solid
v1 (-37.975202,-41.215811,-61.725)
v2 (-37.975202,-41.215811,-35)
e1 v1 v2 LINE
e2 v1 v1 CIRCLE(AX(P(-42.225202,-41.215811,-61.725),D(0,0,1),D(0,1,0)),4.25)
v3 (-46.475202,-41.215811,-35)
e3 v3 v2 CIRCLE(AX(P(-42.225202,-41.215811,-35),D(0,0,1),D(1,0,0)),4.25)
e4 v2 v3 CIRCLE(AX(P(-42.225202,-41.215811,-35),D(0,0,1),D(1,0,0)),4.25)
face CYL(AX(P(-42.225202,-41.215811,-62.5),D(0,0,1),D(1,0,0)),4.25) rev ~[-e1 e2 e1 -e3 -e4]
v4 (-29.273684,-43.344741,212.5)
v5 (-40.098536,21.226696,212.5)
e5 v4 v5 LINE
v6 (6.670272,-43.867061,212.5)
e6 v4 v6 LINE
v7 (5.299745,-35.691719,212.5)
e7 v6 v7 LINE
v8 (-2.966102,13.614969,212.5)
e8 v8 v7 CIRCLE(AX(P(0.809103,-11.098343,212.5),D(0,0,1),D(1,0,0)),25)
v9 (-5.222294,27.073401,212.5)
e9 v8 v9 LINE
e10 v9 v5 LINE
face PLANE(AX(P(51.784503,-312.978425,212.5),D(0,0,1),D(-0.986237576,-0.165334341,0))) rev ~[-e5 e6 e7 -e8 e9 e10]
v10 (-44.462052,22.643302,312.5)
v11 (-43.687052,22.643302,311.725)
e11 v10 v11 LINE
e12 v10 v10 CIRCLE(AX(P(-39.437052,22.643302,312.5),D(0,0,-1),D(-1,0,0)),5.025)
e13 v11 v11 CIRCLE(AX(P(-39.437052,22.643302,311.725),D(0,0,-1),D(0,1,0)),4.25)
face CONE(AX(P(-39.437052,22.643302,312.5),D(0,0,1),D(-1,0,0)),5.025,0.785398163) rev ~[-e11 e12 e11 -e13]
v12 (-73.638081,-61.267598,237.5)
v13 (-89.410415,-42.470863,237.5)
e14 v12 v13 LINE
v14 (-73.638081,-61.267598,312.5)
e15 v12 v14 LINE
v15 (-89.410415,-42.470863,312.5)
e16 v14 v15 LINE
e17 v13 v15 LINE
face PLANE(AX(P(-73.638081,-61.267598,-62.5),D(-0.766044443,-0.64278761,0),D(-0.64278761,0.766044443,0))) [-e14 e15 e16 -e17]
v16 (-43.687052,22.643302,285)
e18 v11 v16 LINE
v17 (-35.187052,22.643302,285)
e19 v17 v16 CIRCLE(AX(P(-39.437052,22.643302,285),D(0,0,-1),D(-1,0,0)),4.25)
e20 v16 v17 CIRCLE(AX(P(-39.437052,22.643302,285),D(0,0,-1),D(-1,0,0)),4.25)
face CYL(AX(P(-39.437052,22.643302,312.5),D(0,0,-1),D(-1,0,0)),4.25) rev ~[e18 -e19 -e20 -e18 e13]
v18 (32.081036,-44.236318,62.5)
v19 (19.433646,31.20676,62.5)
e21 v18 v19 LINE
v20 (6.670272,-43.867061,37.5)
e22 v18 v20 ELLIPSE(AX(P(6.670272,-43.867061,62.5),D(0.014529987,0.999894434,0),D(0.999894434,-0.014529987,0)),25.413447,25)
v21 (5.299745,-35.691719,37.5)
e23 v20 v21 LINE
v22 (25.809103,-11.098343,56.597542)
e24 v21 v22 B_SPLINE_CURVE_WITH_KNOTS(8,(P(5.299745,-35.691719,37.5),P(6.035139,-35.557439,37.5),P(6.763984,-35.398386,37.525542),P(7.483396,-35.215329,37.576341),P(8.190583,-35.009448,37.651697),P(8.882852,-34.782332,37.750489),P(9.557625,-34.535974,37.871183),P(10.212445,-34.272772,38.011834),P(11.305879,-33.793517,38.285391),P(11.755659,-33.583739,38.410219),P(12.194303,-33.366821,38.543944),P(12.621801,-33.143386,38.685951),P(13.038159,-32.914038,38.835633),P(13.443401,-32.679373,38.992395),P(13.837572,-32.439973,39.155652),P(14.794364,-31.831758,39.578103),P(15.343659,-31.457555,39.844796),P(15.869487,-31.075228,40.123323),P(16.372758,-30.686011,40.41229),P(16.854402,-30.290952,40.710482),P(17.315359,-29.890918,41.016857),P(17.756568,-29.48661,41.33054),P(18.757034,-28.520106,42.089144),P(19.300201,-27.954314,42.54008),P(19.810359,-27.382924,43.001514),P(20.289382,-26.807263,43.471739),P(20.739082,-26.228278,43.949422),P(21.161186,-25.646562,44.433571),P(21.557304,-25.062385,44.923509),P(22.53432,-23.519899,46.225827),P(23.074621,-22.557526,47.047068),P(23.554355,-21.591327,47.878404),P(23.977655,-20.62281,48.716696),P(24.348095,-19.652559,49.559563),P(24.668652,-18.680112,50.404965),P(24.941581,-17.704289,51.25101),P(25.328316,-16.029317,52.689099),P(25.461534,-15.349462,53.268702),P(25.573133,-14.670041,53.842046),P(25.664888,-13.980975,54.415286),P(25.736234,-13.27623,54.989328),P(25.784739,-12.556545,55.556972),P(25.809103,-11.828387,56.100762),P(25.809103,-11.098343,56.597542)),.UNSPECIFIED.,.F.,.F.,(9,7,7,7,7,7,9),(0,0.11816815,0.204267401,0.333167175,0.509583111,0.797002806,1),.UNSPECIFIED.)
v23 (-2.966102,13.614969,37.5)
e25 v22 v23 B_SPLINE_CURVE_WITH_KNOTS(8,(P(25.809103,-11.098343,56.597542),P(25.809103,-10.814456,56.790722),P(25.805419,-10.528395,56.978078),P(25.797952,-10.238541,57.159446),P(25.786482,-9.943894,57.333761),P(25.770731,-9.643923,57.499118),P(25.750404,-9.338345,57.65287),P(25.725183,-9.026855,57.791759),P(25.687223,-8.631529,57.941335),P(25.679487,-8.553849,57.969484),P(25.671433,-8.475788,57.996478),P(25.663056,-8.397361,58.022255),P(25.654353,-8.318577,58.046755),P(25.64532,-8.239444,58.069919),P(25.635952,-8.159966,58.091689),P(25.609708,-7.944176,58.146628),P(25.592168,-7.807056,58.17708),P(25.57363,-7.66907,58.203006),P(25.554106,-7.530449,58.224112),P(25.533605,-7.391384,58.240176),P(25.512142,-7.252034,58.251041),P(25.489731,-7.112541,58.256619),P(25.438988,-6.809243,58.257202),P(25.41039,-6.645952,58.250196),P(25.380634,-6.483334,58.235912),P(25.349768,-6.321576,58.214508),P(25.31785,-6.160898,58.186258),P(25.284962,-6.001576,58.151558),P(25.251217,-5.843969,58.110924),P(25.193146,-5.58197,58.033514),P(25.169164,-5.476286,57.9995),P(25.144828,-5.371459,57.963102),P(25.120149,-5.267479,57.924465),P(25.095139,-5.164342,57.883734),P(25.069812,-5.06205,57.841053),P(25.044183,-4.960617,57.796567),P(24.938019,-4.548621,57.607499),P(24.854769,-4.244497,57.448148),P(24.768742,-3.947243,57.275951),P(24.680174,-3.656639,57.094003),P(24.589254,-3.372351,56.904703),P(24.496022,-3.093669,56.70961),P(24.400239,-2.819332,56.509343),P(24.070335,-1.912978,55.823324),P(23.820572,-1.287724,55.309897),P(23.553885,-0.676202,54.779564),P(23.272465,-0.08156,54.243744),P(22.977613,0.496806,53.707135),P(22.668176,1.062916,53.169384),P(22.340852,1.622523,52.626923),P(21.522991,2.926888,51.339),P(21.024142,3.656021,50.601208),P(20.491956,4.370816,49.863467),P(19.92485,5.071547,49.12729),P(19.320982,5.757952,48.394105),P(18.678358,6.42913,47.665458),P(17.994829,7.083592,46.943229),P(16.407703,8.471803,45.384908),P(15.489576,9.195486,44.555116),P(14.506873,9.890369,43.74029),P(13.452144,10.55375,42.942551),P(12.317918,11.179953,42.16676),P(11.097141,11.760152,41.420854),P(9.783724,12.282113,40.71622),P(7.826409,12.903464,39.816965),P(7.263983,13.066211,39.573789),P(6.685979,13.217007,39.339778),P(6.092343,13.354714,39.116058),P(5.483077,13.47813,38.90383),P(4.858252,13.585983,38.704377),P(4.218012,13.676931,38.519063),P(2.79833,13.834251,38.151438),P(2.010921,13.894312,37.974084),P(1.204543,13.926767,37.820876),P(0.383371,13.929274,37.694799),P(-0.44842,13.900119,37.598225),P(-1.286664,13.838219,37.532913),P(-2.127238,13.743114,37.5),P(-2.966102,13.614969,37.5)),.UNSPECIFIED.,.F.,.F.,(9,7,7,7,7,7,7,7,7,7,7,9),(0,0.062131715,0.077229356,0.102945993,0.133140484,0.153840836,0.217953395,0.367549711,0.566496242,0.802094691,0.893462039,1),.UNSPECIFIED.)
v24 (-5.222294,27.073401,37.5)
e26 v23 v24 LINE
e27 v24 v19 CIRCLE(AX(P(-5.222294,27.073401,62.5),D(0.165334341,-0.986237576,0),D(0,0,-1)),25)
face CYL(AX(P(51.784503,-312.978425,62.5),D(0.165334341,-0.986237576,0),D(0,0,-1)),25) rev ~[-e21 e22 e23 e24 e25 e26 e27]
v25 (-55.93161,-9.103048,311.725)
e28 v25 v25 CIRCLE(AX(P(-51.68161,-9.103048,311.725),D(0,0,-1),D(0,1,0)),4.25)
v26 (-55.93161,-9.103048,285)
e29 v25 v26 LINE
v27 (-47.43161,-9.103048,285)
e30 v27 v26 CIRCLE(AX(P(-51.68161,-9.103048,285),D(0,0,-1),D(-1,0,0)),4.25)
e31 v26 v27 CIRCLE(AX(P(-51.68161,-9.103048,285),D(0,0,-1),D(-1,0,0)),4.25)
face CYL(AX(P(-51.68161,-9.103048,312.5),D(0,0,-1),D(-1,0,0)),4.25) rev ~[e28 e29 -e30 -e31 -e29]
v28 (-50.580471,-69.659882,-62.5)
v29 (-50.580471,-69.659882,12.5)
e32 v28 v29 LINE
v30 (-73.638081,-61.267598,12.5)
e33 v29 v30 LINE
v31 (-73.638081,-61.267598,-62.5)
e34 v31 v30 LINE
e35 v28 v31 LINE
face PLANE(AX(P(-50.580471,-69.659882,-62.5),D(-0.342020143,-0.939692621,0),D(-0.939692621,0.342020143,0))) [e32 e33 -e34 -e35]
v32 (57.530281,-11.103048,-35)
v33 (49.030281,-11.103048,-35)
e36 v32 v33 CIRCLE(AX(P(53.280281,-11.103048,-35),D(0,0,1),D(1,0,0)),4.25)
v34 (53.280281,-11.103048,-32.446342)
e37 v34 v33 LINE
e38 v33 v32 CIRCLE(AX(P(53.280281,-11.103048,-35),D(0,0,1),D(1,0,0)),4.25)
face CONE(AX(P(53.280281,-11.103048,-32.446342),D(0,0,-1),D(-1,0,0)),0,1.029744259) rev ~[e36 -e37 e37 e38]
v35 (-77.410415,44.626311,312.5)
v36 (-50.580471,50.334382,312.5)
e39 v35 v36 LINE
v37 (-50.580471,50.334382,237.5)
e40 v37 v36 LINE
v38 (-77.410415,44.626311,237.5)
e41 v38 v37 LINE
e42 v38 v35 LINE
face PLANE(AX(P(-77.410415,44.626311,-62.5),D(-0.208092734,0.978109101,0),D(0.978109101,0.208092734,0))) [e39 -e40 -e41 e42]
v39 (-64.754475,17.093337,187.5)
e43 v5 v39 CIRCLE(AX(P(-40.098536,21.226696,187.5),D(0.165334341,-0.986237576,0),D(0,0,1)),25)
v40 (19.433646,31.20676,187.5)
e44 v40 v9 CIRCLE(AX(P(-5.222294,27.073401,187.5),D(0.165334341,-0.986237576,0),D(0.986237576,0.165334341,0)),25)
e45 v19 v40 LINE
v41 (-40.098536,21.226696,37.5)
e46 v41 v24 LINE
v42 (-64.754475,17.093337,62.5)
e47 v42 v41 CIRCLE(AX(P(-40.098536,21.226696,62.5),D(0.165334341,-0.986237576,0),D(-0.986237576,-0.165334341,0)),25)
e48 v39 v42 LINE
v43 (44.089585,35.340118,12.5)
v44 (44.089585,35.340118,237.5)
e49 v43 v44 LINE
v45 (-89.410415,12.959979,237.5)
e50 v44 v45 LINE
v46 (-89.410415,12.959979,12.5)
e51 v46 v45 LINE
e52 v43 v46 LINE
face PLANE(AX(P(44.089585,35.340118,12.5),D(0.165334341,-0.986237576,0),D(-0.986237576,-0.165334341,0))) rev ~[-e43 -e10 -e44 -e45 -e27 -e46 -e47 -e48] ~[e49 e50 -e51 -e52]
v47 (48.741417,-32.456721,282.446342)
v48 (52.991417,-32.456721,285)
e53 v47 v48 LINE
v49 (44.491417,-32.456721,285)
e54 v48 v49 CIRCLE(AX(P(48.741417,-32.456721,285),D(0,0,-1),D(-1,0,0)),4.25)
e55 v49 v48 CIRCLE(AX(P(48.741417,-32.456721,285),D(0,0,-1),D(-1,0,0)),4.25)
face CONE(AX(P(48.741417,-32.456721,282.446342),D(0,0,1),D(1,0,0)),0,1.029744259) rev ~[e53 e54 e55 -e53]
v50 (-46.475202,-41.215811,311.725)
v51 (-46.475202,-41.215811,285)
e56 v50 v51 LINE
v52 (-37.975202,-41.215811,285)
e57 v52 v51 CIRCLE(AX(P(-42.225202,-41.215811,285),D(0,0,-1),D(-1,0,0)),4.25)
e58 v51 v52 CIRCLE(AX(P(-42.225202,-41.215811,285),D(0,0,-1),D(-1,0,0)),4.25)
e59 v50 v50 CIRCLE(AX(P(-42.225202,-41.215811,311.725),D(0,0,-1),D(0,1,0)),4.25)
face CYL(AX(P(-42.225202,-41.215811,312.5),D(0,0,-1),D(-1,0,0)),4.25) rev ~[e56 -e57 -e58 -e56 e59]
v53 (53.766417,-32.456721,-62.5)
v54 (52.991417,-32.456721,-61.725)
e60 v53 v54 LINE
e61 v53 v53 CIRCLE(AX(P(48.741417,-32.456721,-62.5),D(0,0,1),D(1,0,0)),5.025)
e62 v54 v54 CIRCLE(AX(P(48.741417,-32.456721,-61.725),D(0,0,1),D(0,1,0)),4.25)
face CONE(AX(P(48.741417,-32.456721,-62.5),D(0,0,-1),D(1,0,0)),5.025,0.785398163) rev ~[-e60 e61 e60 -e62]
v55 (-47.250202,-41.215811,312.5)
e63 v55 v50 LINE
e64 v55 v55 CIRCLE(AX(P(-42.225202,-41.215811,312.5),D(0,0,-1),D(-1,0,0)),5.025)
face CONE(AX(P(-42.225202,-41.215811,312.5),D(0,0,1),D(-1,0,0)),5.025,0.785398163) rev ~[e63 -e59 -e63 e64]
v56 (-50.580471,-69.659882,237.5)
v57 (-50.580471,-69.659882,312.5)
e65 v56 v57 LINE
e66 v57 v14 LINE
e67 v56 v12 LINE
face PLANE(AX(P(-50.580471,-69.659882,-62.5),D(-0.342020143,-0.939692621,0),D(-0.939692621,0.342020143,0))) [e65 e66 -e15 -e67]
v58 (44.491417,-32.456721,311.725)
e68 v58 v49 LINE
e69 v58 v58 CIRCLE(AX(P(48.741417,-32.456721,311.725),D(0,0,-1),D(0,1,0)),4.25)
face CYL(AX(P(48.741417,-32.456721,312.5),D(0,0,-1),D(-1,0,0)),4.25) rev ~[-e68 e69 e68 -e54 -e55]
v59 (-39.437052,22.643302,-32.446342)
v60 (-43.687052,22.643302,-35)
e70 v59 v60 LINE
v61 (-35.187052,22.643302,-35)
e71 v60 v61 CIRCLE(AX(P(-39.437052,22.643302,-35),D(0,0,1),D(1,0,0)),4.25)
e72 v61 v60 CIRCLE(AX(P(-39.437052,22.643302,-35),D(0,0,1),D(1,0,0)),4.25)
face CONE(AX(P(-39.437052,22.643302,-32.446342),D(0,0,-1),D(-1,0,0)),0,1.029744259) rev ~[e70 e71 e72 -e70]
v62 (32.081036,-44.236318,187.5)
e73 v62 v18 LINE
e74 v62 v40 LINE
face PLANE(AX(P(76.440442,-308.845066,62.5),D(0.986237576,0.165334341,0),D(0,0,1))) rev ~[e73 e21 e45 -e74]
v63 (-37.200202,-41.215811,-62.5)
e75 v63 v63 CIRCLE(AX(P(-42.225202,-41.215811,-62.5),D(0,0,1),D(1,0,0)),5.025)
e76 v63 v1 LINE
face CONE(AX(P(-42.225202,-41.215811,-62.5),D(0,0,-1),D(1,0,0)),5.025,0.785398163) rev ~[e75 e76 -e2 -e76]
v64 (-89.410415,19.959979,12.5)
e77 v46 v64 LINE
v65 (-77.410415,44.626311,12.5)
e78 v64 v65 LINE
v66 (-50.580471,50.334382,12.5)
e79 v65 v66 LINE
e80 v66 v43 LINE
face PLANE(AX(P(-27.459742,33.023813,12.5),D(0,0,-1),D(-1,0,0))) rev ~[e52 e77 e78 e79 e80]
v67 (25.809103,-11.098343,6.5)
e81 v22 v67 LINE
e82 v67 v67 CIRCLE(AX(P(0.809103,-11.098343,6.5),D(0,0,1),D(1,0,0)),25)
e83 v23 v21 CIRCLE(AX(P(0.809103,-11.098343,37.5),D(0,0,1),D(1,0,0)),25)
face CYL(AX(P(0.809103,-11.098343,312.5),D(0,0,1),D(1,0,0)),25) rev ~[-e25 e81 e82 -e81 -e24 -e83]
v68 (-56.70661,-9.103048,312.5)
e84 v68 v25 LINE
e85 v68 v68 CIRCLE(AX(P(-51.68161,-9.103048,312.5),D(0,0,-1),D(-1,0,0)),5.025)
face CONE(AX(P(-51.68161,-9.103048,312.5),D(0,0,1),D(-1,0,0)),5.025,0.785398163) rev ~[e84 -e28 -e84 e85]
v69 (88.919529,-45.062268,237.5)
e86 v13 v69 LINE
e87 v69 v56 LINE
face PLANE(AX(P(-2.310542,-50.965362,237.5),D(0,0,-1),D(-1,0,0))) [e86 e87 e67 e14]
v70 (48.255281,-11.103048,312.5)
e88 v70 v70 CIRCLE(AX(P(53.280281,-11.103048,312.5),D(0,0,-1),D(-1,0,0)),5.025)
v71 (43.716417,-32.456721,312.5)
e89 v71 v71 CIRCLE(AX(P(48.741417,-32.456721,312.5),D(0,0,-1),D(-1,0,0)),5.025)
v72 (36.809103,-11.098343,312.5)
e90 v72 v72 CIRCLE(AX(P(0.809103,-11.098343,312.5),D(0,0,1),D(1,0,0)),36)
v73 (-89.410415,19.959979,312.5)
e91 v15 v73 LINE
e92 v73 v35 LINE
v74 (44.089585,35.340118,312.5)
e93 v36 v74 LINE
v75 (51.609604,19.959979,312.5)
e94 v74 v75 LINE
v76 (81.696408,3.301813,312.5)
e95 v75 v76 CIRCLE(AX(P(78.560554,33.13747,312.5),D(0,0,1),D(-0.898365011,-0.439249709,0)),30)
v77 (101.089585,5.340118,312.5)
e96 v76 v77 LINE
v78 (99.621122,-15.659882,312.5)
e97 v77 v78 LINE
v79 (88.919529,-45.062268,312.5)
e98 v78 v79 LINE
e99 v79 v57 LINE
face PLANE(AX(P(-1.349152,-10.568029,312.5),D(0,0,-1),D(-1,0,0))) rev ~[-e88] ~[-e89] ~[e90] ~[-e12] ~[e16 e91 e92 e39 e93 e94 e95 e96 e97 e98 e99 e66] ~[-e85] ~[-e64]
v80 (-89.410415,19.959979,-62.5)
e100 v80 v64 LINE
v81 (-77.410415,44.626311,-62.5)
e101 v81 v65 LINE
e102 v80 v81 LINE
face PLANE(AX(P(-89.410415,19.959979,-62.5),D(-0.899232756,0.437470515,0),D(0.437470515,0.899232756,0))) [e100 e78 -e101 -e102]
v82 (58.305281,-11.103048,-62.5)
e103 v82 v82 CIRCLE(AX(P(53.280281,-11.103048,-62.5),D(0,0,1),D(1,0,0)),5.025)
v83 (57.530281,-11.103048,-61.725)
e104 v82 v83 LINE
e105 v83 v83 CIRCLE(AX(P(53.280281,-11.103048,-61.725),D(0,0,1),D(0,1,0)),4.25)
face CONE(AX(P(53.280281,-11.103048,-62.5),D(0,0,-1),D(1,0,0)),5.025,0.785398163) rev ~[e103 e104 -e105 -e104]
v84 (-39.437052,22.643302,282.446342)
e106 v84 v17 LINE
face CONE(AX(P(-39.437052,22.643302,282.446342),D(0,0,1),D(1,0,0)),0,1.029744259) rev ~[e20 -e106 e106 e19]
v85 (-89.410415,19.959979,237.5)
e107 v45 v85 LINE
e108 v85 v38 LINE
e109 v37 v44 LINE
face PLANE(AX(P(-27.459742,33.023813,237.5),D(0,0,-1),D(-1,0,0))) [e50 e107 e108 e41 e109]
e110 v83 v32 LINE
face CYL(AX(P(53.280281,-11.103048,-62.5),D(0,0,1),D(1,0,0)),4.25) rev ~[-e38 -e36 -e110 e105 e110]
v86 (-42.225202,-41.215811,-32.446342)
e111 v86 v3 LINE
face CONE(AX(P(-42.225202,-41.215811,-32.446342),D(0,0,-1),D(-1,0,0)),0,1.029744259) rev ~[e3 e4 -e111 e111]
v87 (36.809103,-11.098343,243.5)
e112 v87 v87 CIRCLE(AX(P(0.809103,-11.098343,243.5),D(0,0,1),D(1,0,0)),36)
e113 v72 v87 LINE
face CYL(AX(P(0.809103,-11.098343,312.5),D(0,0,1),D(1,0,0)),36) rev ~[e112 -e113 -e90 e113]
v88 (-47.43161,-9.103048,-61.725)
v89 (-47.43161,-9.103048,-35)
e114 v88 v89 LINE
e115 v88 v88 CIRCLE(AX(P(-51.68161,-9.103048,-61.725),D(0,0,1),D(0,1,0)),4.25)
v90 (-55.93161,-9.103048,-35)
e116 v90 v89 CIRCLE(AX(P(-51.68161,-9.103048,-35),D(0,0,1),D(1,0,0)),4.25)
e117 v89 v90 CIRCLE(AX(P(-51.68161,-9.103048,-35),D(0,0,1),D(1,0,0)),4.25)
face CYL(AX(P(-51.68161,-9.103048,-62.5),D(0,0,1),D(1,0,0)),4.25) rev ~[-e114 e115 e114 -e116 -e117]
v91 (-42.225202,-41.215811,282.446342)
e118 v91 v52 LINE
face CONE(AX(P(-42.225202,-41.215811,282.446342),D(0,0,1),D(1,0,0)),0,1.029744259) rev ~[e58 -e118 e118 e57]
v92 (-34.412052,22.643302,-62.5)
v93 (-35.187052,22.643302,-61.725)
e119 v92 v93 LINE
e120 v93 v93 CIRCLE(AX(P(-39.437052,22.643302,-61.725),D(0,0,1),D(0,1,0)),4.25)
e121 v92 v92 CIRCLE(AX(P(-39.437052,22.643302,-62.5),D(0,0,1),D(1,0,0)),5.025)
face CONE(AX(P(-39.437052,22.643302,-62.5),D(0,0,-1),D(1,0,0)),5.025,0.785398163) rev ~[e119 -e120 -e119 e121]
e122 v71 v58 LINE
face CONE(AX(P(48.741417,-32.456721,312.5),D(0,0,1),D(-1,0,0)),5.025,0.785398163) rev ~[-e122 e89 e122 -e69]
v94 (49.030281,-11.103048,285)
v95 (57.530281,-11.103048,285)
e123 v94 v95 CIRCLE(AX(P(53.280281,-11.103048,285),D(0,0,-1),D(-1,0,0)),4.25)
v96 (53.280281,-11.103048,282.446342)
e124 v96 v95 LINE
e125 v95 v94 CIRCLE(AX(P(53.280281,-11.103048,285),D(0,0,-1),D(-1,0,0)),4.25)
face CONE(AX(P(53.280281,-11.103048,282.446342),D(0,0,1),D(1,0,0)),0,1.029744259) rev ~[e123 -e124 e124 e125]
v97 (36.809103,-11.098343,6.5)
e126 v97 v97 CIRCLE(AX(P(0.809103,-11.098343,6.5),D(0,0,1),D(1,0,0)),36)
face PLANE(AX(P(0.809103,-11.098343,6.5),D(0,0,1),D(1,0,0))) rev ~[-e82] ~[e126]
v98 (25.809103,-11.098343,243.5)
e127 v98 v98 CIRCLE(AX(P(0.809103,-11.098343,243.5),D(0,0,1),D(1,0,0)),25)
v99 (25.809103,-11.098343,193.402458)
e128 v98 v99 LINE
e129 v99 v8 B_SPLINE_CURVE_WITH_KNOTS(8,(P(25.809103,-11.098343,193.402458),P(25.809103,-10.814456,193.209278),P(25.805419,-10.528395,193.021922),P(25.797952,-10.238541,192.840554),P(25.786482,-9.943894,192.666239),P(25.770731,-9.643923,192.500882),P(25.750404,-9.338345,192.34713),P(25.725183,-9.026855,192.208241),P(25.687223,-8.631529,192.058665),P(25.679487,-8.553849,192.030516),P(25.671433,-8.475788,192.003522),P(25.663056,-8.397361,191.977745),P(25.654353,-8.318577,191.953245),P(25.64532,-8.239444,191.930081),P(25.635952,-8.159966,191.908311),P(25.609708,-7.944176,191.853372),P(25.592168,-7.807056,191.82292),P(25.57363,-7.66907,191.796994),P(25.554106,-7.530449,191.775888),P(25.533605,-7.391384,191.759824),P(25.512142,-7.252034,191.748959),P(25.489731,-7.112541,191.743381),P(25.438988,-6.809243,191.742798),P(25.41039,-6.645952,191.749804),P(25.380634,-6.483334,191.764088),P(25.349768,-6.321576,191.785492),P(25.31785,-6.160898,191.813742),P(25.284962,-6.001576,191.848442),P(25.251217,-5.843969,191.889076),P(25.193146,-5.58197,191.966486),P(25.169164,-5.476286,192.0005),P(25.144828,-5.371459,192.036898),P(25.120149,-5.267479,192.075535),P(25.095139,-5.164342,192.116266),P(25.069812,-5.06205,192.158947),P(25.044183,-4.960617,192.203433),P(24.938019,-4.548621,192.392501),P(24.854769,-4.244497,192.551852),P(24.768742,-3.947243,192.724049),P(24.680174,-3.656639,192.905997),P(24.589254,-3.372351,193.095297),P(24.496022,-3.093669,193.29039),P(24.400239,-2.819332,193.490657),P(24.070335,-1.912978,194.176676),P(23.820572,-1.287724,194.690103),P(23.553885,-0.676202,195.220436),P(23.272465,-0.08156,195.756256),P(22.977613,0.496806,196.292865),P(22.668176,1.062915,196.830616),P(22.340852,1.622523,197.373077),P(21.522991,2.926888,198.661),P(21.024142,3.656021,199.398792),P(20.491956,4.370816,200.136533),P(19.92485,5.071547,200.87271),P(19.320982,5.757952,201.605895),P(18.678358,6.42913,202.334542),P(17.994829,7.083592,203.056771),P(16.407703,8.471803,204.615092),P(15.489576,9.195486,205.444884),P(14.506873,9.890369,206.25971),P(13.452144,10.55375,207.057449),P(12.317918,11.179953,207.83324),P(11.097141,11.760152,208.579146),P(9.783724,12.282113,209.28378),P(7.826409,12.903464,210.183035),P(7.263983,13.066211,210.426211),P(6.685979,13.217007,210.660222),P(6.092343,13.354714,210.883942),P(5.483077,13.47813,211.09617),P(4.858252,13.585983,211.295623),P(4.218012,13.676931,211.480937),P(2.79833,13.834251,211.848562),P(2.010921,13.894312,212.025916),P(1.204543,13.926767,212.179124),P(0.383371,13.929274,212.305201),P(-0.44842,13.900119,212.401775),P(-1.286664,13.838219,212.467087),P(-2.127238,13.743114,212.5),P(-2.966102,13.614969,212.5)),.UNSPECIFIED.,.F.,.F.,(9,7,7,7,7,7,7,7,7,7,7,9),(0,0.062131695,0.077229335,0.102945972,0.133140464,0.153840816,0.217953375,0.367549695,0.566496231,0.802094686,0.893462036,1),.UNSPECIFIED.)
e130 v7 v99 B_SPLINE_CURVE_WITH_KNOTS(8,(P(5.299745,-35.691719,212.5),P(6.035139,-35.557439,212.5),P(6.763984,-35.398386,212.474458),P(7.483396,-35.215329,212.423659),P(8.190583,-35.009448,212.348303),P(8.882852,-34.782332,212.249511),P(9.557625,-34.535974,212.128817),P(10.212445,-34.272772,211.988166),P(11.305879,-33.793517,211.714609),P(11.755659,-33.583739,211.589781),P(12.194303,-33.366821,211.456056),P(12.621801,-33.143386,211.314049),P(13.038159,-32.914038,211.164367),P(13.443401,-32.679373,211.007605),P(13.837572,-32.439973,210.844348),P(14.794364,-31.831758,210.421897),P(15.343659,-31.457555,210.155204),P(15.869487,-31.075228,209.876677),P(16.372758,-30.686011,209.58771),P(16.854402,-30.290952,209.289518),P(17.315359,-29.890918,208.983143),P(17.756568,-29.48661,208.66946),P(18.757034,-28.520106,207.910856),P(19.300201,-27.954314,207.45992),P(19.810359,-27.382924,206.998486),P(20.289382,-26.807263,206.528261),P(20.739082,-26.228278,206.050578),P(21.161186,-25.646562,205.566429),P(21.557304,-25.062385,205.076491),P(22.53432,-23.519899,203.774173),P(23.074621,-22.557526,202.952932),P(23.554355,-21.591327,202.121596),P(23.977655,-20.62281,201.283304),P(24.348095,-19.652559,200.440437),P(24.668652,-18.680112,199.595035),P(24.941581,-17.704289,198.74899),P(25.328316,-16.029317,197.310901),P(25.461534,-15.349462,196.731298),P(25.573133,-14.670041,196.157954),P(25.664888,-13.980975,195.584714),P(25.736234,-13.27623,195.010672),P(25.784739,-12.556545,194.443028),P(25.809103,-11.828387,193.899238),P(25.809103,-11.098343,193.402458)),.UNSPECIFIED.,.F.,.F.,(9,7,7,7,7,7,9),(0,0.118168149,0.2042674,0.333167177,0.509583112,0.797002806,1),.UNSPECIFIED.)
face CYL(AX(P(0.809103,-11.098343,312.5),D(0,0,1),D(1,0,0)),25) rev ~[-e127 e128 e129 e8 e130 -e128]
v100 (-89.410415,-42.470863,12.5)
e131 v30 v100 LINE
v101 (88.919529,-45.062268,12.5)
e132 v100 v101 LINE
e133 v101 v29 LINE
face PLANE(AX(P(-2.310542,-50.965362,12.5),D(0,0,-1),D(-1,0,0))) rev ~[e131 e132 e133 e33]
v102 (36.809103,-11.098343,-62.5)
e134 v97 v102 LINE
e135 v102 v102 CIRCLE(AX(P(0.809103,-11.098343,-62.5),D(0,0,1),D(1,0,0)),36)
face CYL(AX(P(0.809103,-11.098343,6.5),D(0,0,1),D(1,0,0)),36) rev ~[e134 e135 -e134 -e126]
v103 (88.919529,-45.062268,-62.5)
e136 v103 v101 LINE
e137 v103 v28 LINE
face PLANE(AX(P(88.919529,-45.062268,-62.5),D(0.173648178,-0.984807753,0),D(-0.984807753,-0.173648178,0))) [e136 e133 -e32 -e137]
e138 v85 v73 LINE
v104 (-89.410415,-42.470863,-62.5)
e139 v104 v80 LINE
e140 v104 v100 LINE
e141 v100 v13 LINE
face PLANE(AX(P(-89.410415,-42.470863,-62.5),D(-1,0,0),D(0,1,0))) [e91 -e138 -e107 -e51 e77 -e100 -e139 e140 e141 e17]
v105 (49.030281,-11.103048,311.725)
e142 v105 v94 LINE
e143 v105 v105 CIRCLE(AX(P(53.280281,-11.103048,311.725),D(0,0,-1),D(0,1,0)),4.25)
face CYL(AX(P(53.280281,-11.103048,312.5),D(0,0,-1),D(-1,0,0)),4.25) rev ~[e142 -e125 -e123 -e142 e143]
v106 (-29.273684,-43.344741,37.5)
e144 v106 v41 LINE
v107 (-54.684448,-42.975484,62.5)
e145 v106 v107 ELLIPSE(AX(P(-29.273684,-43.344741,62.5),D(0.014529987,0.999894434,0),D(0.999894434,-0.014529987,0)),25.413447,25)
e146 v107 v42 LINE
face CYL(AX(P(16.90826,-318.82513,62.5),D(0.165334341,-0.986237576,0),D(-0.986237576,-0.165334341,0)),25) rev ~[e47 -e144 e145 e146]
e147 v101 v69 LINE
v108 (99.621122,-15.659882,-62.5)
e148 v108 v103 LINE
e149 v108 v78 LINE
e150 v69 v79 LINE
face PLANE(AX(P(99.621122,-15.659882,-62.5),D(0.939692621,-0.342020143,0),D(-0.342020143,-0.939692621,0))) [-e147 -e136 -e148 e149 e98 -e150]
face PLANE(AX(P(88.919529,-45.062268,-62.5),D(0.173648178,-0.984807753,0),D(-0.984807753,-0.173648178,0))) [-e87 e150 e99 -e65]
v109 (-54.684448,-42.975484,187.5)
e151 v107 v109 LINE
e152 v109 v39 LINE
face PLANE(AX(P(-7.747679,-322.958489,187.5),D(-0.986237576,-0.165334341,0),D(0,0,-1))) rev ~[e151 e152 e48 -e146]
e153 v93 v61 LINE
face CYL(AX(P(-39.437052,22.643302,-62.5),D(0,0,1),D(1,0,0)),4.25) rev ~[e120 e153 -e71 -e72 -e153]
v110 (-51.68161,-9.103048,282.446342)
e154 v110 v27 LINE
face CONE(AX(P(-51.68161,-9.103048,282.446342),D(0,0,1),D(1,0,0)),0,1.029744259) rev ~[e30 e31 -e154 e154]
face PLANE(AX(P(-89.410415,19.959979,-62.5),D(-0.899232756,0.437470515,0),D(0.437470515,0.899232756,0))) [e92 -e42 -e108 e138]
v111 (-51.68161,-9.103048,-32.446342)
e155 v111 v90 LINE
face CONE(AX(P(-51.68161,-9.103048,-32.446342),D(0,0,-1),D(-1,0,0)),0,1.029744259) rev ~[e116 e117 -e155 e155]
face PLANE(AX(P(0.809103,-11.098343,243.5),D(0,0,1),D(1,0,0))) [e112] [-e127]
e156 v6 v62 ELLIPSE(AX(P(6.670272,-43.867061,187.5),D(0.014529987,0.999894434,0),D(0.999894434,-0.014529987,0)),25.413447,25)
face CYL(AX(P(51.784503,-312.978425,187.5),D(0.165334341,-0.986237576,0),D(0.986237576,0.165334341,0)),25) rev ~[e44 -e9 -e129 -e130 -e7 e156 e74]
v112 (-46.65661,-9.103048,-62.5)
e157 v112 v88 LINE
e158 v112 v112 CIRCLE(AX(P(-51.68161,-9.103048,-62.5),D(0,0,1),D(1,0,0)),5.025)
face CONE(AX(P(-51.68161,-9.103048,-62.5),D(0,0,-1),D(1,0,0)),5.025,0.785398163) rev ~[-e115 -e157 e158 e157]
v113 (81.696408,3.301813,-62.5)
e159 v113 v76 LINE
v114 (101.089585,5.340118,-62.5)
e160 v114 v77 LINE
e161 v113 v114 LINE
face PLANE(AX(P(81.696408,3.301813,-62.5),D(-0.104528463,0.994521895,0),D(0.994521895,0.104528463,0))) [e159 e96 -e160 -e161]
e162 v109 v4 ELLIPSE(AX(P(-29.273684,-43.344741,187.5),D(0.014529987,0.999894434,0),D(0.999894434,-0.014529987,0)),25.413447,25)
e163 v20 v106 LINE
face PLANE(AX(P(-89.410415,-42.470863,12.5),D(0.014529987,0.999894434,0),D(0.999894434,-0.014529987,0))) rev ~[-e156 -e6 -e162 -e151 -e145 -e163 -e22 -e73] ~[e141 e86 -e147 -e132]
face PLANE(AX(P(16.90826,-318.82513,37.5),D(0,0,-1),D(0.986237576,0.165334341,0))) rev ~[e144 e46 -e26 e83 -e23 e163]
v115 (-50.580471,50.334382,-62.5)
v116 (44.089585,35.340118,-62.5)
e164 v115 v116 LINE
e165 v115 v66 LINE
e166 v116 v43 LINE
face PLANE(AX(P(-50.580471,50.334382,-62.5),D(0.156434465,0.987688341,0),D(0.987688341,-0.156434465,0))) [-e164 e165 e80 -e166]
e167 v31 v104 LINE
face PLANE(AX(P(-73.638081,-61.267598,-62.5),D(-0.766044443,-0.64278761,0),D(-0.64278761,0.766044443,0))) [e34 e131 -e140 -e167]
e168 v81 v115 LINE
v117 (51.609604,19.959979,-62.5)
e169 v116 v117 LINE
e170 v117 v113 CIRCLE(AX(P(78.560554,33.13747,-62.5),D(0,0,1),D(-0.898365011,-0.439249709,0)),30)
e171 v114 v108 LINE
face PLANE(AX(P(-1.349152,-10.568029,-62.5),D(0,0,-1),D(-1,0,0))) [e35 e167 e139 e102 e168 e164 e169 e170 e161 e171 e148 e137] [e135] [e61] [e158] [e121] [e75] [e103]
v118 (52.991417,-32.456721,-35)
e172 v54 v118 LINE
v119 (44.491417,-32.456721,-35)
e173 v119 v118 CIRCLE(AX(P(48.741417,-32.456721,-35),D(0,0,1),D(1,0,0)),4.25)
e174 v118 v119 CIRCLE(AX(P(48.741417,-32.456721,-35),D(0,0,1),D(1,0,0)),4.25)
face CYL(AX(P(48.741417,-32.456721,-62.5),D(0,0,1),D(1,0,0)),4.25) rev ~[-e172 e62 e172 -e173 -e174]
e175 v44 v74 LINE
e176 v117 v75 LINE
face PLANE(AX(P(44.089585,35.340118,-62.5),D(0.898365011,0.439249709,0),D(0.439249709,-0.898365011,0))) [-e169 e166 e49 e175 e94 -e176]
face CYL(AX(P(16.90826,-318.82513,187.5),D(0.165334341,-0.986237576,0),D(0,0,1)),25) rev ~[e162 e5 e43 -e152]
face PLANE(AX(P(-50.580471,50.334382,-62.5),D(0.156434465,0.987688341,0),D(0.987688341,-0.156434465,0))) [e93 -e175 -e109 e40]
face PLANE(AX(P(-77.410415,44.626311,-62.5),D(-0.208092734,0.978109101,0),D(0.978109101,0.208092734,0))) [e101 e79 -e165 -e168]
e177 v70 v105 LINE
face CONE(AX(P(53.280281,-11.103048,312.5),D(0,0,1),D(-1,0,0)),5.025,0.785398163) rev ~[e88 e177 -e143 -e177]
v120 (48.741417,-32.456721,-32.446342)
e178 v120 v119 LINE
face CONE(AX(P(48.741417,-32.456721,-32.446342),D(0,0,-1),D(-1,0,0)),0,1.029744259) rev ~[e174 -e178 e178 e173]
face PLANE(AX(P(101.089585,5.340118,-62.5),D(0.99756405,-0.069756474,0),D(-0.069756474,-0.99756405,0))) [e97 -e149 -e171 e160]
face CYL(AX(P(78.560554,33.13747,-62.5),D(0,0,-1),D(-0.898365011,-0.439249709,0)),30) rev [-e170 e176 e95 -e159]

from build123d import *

# Parameters (mm, degrees)
EXTRUS_O_PRINCIPAL_DEPTH    = 250
ESCALA_SCALE                = 1.5
ALIVIO_START                = -75
ALIVIO_SUP_INF_DEPTH        = 225
AL_VIO_CENTRAL_DEPTH        = 344.797069556
AL_VIO_CENTRAL_DEPTH_BACK   = 344.797069556
FUROS_DIR_D                 = 8.5
FUROS_DIR_DEPTH             = 27.5
FUROS_DIR_CSINK_D           = 10.05
FUROS_DIR_CSINK_ANGLE       = 90
FUROS_DIR_TIP               = 2.553657631
FUROS_ESQ_D                 = 8.5
FUROS_ESQ_DEPTH             = 27.5
FUROS_ESQ_CSINK_D           = 10.05
FUROS_ESQ_CSINK_ANGLE       = 90
FUROS_ESQ_TIP               = 2.553657631
ESBO_O7_3_R                 = 25
FURO_EIXO_DEPTH             = 395.584089109
ESBO_O7_R                   = 36
REBAIXO_ROLAMENTO_ESQ_DEPTH = 69
REBAIXO_START               = -306
ESBO_O7_4_R                 = 36
ESBO_O7_4_R_2               = 25
REBAIXO_ROLAMENTO_DIR_DEPTH = 69


with BuildPart() as part:
    # Esboço1 → EXTRUSÃO PRINCIPAL (new body)
    with BuildSketch(Plane.XY):
        with BuildLine():
            Line((65, 0), (64.021024633, -14))
            Line((64.021024633, -14), (56.886629039, -33.601590794))
            Line((56.886629039, -33.601590794), (-36.113370961, -50))
            Line((-36.113370961, -50), (-51.485110725, -44.405144277))
            Line((-51.485110725, -44.405144277), (-62, -31.873987208))
            Line((-62, -31.873987208), (-62, 9.746573698))
            Line((-62, 9.746573698), (-54, 26.190795203))
            Line((-54, 26.190795203), (-36.113370961, 29.996175937))
            Line((-36.113370961, 29.996175937), (27, 20))
            Line((27, 20), (32.013345877, 9.746573698))
            ThreePointArc((32.013345877, 9.746573698), (40.293006212, 1.034435734), (52.07121536, -1.358870022))
            Line((52.07121536, -1.358870022), (65, 0))
        make_face()
    extrude(amount=EXTRUS_O_PRINCIPAL_DEPTH)


with BuildPart() as part_1:
    # ESCALA: scaled about (-7.179170438, -10.680236315, 125)
    add(part.part.scale(ESCALA_SCALE).moved(Location((3.589585219, 5.340118158, -62.5))))

    # Esboço4 → ALIVIO SUP./INF. (cut)
    with BuildSketch(Plane(origin=(0, 0, -62.5), x_dir=(-1, 0, 0), z_dir=(0, 0, -1)).offset(ALIVIO_START)):
        Polygon((89.410414781, 12.959978704), (89.410414781, 19.959978704), (77.410414781, 44.626310962), (50.580471222, 50.334382062), (-44.089585219, 35.340118158), align=None)
        Polygon((73.638080869, -61.267598258), (89.410414781, -42.470862654), (-88.919528778, -45.062268034), (50.580471222, -69.659881842), align=None)
    extrude(amount=-ALIVIO_SUP_INF_DEPTH, mode=Mode.SUBTRACT)

    # Esboço6 → ALÍVIO CENTRAL (cut, two sides: drawn at the far end of the back side and taken through both)
    with BuildSketch(Plane(origin=(-4.557313786, 27.184879328, 0), x_dir=(0.9862375757372075, 0.16533434066761868, 0), z_dir=(-0.16533434066761868, 0.9862375757372075, 0)).offset(-AL_VIO_CENTRAL_DEPTH_BACK)):
        with BuildLine():
            Line((-36.037181185, -37.5), (-0.674259224, -37.5))
            ThreePointArc((-0.674259224, -37.5), (17.003410306, -44.82233047), (24.325740776, -62.5))
            Line((24.325740776, -62.5), (24.325740776, -187.5))
            ThreePointArc((24.325740776, -187.5), (17.003410306, -205.17766953), (-0.674259224, -212.5))
            Line((-0.674259224, -212.5), (-36.037181185, -212.5))
            ThreePointArc((-36.037181185, -212.5), (-53.714850715, -205.17766953), (-61.037181185, -187.5))
            Line((-61.037181185, -187.5), (-61.037181185, -62.5))
            ThreePointArc((-61.037181185, -62.5), (-53.714850715, -44.82233047), (-36.037181185, -37.5))
        make_face()
    extrude(amount=AL_VIO_CENTRAL_DEPTH + AL_VIO_CENTRAL_DEPTH_BACK, mode=Mode.SUBTRACT)

    # FUROS DIR.
    with Locations(Plane.XY.offset(312.5)):
        with Locations((53.280280787, -11.103047714), (-39.437052477, 22.643301795), (-51.681610143, -9.103047714), (-42.225201538, -41.215810622), (48.741417313, -32.456721475)):
            CounterSinkHole(FUROS_DIR_D / 2, FUROS_DIR_CSINK_D / 2, depth=FUROS_DIR_DEPTH, counter_sink_angle=FUROS_DIR_CSINK_ANGLE)
            with Locations((0, 0, -(FUROS_DIR_DEPTH + FUROS_DIR_TIP / 2))):  # 118° drill point
                Cone(0, FUROS_DIR_D / 2, FUROS_DIR_TIP, mode=Mode.SUBTRACT)

    # FUROS ESQ.
    with Locations(Plane(origin=(0, 0, -62.5), x_dir=(-1, 0, 0), z_dir=(0, 0, -1))):
        with Locations((39.437052477, 22.643301795), (51.681610143, -9.103047714), (42.225201538, -41.215810622), (-48.741417313, -32.456721475), (-53.280280787, -11.103047714)):
            CounterSinkHole(FUROS_ESQ_D / 2, FUROS_ESQ_CSINK_D / 2, depth=FUROS_ESQ_DEPTH, counter_sink_angle=FUROS_ESQ_CSINK_ANGLE)
            with Locations((0, 0, -(FUROS_ESQ_DEPTH + FUROS_ESQ_TIP / 2))):  # 118° drill point
                Cone(0, FUROS_ESQ_D / 2, FUROS_ESQ_TIP, mode=Mode.SUBTRACT)

    # Esboço7<3> → FURO EIXO (cut, through all)
    with BuildSketch(Plane.XY.offset(312.5)):
        with Locations((0.809103247, -11.098343232)):
            Circle(ESBO_O7_3_R)
    extrude(amount=-FURO_EIXO_DEPTH, mode=Mode.SUBTRACT)

    # Esboço7 → REBAIXO ROLAMENTO ESQ. (cut)
    with BuildSketch(Plane.XY.offset(312.5)):
        with Locations((0.809103247, -11.098343232)):
            Circle(ESBO_O7_R)
    extrude(amount=-REBAIXO_ROLAMENTO_ESQ_DEPTH, mode=Mode.SUBTRACT)

    # Esboço7<4> → REBAIXO ROLAMENTO DIR. (cut)
    with BuildSketch(Plane.XY.offset(312.5).offset(REBAIXO_START)):
        with Locations((0.809103247, -11.098343232)):
            Circle(ESBO_O7_4_R)
        with Locations(Location((0.809103247, -11.098343232, 0), (0, 0, 280.347956823))):
            Circle(ESBO_O7_4_R_2, mode=Mode.SUBTRACT)
    extrude(amount=-REBAIXO_ROLAMENTO_DIR_DEPTH, mode=Mode.SUBTRACT)


solid = part_1.part
